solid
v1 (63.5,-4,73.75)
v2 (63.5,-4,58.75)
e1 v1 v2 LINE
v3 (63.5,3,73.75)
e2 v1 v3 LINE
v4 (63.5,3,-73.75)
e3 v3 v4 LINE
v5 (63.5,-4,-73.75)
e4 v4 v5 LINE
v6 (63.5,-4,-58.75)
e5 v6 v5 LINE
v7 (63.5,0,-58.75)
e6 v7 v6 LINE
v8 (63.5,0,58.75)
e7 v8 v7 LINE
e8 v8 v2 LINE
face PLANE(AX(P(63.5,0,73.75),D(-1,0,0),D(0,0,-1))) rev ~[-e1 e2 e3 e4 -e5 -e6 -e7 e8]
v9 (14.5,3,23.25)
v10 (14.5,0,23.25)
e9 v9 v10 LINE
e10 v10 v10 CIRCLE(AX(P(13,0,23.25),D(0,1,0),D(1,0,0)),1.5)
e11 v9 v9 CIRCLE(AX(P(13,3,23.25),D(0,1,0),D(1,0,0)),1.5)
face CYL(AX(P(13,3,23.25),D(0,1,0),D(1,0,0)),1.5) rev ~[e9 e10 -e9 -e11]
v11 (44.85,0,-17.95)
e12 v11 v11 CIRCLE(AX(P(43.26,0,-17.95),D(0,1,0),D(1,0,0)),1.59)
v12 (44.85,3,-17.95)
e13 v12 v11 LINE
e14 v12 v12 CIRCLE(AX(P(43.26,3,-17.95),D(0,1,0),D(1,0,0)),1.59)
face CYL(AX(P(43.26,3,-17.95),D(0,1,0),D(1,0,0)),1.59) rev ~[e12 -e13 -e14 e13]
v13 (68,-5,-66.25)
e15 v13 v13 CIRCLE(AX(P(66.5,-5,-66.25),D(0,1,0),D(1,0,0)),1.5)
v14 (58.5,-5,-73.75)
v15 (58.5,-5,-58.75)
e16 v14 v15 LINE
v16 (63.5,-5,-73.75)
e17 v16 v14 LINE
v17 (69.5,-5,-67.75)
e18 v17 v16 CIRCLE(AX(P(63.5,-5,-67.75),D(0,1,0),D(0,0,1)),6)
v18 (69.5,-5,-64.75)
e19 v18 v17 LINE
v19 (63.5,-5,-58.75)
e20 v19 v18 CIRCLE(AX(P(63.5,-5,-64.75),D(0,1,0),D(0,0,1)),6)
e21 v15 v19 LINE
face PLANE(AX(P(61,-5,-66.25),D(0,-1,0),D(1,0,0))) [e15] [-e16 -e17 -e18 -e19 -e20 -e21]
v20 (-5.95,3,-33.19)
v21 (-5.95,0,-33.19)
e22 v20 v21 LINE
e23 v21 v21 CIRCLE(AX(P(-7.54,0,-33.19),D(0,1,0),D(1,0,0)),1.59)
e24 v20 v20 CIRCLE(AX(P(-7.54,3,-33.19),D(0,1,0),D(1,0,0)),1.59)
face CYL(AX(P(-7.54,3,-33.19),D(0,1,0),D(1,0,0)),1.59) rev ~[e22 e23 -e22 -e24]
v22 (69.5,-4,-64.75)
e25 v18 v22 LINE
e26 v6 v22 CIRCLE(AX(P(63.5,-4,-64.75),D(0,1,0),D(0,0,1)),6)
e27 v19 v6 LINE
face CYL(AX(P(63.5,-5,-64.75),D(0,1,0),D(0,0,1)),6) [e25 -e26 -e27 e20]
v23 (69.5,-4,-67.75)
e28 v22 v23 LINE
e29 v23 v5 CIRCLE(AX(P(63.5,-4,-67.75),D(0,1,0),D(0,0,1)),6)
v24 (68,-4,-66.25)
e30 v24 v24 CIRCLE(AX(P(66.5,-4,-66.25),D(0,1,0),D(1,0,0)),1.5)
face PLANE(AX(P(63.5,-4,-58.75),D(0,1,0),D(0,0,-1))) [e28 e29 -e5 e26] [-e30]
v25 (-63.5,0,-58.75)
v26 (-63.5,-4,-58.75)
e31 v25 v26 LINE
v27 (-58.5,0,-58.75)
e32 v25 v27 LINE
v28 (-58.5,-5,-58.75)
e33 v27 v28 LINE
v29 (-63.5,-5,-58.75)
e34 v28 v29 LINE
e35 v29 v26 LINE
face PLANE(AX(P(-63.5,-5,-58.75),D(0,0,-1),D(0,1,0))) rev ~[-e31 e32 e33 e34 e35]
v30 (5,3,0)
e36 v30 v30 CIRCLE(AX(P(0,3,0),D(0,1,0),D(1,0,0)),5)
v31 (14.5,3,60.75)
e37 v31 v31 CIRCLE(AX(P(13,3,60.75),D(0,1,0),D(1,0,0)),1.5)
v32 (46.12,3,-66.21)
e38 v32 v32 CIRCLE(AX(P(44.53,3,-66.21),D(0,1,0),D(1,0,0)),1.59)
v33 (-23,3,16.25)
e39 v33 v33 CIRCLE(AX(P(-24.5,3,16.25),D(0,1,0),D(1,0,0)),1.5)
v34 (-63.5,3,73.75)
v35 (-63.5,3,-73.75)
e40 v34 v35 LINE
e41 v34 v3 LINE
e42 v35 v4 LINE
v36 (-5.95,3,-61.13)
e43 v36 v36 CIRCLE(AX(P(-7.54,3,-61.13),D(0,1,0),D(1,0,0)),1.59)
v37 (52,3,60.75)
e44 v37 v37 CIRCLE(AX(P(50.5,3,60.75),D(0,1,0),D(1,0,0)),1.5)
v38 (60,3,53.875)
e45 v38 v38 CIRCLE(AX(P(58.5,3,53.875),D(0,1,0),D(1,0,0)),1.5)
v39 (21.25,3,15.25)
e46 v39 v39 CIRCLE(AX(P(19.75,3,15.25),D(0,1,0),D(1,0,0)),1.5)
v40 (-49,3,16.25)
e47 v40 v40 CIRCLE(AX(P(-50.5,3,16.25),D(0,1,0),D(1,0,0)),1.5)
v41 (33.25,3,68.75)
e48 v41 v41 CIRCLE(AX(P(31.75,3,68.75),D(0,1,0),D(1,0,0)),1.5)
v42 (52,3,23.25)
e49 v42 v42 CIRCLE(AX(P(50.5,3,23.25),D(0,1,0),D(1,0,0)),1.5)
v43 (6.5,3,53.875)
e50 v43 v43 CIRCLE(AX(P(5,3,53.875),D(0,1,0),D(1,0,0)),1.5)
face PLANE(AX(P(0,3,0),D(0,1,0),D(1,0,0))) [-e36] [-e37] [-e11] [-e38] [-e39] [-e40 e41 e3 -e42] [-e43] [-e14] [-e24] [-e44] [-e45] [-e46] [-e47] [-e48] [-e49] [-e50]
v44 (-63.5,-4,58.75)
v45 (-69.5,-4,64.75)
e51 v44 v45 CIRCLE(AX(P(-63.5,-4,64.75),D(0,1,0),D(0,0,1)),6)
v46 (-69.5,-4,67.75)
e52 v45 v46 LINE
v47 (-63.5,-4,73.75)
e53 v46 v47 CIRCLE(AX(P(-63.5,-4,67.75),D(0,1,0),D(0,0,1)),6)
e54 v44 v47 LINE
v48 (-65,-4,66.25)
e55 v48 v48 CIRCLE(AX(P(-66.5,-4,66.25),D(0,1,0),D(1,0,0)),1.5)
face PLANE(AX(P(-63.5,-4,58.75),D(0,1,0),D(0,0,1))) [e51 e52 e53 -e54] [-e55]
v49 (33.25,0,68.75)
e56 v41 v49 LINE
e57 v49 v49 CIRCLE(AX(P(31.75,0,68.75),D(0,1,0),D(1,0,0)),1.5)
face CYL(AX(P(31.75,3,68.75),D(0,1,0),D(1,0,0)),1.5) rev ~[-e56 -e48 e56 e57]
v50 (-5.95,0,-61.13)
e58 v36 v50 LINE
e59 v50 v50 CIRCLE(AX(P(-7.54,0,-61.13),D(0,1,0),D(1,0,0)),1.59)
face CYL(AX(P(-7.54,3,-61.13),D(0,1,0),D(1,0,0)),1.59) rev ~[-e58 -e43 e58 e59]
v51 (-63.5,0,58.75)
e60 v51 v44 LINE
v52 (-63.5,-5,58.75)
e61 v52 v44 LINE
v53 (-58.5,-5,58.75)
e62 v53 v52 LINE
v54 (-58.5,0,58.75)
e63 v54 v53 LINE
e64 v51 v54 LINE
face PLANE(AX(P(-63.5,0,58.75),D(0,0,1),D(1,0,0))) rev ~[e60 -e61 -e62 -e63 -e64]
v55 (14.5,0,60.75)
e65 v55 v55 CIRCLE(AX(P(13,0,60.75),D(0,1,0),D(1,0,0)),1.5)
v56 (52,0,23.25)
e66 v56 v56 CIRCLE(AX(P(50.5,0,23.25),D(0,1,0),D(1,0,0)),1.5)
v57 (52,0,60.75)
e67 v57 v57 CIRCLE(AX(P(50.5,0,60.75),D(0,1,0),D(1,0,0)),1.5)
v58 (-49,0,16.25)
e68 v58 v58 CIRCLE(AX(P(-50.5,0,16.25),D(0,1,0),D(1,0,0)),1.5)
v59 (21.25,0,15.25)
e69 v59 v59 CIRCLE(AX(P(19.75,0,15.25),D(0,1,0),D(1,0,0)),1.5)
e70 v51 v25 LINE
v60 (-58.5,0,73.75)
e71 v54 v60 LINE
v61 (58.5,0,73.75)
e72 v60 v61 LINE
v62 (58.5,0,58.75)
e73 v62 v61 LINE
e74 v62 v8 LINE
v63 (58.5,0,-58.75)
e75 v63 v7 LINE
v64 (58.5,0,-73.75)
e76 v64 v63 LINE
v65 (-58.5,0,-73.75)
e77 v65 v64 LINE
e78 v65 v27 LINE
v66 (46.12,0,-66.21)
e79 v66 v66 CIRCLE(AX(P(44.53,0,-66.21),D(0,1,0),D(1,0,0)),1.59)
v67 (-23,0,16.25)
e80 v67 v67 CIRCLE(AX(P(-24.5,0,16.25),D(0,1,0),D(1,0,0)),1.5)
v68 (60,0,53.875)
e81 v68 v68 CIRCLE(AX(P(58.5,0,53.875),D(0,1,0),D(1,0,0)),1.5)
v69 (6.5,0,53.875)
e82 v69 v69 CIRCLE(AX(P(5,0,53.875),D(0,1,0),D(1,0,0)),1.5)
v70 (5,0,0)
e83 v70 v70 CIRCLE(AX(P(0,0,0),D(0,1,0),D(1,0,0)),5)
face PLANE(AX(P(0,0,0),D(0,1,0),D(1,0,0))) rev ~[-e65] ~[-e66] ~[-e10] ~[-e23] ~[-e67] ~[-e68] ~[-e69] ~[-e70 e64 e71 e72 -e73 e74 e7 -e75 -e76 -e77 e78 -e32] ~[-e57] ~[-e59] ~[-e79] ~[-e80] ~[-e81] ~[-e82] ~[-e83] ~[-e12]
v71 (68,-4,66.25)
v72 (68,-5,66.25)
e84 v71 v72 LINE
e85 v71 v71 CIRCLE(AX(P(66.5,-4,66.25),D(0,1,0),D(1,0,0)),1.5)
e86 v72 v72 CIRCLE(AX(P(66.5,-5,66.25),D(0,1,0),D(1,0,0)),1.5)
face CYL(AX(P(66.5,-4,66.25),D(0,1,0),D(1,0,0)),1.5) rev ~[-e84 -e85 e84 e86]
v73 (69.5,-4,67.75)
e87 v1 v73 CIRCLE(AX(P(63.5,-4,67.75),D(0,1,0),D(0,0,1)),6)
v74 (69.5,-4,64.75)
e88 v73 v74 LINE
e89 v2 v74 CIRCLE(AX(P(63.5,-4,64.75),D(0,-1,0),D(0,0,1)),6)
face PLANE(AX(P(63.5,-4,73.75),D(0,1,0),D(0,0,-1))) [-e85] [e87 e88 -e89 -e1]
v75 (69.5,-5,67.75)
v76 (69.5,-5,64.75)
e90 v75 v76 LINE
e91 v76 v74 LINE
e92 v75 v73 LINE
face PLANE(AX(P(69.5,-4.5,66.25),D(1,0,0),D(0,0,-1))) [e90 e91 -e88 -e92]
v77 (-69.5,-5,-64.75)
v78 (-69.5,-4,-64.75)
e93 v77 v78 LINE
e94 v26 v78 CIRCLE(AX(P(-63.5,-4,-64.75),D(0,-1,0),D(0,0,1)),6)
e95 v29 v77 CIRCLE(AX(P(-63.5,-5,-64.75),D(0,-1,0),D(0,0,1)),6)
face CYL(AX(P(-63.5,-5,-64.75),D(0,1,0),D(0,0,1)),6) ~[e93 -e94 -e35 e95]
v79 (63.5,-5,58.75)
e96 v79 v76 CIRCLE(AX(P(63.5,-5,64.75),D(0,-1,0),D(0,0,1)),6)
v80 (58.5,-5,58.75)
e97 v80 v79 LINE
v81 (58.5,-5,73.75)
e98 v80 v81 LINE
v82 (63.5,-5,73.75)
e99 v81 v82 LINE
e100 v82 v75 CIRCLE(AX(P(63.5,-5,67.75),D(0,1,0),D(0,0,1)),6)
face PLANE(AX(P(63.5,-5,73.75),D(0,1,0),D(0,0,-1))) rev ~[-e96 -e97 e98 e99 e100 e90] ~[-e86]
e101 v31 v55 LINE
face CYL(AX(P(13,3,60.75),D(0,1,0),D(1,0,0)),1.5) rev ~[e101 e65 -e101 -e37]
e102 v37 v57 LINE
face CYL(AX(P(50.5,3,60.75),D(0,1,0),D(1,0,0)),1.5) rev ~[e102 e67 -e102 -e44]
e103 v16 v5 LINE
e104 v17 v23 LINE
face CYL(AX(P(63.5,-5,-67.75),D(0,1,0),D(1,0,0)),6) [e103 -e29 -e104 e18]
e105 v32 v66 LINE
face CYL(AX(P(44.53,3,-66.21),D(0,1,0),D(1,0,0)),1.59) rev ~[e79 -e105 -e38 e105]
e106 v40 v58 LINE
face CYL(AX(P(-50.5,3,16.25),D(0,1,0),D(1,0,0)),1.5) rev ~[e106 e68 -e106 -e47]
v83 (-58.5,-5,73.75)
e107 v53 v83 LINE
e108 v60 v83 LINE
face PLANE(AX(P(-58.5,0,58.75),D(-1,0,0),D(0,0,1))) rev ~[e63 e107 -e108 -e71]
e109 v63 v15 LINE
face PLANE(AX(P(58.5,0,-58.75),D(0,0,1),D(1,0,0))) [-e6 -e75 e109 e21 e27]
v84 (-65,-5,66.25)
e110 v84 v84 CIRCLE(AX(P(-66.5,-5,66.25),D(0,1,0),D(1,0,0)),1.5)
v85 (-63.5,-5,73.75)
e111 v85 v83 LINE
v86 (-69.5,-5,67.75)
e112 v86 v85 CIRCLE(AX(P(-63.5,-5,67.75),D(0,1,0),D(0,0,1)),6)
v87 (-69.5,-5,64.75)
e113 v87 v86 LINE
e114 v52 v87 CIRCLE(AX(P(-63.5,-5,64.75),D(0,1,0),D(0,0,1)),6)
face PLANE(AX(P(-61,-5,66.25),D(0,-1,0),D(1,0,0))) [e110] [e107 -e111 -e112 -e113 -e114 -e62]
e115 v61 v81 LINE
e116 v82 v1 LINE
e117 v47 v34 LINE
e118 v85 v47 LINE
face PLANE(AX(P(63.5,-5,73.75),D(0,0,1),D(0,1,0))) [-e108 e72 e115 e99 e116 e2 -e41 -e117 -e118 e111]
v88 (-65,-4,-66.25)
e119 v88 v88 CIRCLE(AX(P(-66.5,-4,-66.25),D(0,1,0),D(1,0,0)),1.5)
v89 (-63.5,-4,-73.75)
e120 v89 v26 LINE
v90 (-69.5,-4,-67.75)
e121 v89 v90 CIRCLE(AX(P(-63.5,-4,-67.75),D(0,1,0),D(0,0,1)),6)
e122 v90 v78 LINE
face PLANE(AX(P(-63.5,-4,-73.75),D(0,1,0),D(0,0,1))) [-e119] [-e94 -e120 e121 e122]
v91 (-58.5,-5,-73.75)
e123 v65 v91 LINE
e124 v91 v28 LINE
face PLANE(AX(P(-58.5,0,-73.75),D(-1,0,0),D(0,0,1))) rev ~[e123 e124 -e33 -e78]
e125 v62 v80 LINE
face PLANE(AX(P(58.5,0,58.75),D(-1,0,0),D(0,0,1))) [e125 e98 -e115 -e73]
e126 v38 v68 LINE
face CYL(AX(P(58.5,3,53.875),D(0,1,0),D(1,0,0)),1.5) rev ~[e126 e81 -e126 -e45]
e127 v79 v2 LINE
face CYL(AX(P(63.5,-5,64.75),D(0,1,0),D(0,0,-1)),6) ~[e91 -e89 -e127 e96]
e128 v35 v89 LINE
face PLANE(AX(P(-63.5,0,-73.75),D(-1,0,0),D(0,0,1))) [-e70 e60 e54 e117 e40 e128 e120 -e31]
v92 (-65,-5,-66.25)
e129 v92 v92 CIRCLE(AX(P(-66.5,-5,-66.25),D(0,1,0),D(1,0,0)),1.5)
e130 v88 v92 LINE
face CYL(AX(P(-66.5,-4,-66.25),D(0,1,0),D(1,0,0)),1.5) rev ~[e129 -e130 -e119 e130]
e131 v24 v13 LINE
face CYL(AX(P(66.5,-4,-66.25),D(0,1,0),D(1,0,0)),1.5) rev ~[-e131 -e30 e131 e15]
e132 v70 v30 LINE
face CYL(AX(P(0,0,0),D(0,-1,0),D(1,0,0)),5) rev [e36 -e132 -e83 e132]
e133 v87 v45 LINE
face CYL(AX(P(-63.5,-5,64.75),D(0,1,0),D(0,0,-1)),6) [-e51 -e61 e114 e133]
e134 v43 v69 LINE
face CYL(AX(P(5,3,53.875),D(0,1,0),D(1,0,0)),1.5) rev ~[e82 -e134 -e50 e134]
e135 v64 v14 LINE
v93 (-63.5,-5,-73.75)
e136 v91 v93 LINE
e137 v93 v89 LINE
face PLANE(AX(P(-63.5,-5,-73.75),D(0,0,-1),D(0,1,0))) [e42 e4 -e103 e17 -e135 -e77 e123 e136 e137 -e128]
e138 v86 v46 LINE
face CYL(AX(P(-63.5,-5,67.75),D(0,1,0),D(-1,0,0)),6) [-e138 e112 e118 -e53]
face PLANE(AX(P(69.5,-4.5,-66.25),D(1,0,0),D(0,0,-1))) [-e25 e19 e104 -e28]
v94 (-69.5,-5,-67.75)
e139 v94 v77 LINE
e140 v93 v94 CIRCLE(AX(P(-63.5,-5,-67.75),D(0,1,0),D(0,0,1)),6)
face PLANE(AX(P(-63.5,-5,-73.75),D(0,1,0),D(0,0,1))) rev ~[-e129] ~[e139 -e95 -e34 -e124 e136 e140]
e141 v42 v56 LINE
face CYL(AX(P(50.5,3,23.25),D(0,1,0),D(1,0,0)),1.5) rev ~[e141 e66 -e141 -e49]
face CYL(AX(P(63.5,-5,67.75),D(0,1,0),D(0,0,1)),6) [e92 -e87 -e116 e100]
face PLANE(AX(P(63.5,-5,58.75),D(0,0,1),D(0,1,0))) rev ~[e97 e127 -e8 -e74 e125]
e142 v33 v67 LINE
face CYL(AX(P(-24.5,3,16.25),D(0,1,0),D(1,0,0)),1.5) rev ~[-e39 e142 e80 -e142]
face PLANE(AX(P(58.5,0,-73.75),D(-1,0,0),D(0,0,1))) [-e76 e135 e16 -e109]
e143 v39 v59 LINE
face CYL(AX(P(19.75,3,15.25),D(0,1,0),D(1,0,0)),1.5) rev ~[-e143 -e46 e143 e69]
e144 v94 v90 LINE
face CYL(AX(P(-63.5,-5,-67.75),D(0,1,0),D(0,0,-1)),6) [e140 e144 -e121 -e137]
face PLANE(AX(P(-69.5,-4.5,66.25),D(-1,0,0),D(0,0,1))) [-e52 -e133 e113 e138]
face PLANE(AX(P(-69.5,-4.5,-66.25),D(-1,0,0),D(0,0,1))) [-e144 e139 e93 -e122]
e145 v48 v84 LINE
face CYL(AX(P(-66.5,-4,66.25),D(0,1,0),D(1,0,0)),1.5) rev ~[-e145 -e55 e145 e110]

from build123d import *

# Parameters (mm, degrees)
BASE_SKETCH_W              = 127
BASE_SKETCH_H              = 147.5
BASE_SKETCH_R              = 5
BASE_DEPTH                 = 3
LEGS_SKETCH_W              = 5
LEGS_SKETCH_H              = 15
LEGS_DEPTH                 = 5
MOUNT_SKETCH_W             = 15
MOUNT_SKETCH_H             = 1
MOUNT_DEPTH                = 6
DONT_CUT_URSELF_R          = 6
MOUNTING_HOLE_SKETCH_R     = 1.5
MOUNTING_HOLE_1_DEPTH      = 2
MOUNTING_HOLE_2_SKETCH_R   = 1.5
MOUNTING_HOLE_2_DEPTH      = 2
MOUNT_2_SKETCH_W           = 15
MOUNT_2_SKETCH_H           = 1
MOUNT_2_DEPTH              = 6
DONT_CUT_URSELF_2_R        = 6
MOUNTING_HOLE_3_SKETCH_R   = 1.5
MOUNTING_HOLE_3_DEPTH      = 2
MOUNTING_HOLE_4_SKETCH_R   = 1.5
MOUNTING_HOLE_4_DEPTH      = 2
HOLES_FOR_PARTS_REACH      = 10
HOLES_FOR_PARTS_SKETCH_R   = 1.5
HOLES_FOR_PARTS_SKETCH_R_2 = 1.59


with BuildPart() as part:
    # Base Sketch → Base (new body)
    with BuildSketch(Plane(origin=(0, 0, 0), x_dir=(1, 0, 0), z_dir=(0, 1, 0))):
        Rectangle(BASE_SKETCH_W, BASE_SKETCH_H)
        Circle(BASE_SKETCH_R, mode=Mode.SUBTRACT)
    extrude(amount=BASE_DEPTH)

    # Legs Sketch → Legs (add)
    with BuildSketch(Plane.XZ):
        with Locations((-61, -66.25)):
            Rectangle(LEGS_SKETCH_W, LEGS_SKETCH_H)
        with Locations((61, -66.25)):
            Rectangle(LEGS_SKETCH_W, LEGS_SKETCH_H)
        with Locations((-61, 66.25)):
            Rectangle(LEGS_SKETCH_W, LEGS_SKETCH_H)
        with Locations((61, 66.25)):
            Rectangle(LEGS_SKETCH_W, LEGS_SKETCH_H)
    extrude(amount=LEGS_DEPTH)

    # Mount Sketch → Mount (add)
    with BuildSketch(Plane(origin=(63.5, 0, 0), x_dir=(0, 0, -1), z_dir=(1, 0, 0))):
        with Locations((-66.25, -4.5)):
            Rectangle(MOUNT_SKETCH_W, MOUNT_SKETCH_H)
        with Locations((66.25, -4.5)):
            Rectangle(MOUNT_SKETCH_W, MOUNT_SKETCH_H)
    extrude(amount=MOUNT_DEPTH)

    # Dont cut urself
    dont_cut_urself_edges = [part.edges().sort_by_distance(p)[0] for p in [
        (69.5, -4.5, 58.75),
        (69.5, -4.5, 73.75),
        (69.5, -4.5, -73.75),
        (69.5, -4.5, -58.75),
    ]]
    fillet(dont_cut_urself_edges, radius=DONT_CUT_URSELF_R)

    # Mounting Hole Sketch → Mounting Hole 1 (cut, through all)
    with BuildSketch(Plane(origin=(0, -4, 0), x_dir=(1, 0, 0), z_dir=(0, 1, 0))):
        with Locations((66.5, -66.25)):
            Circle(MOUNTING_HOLE_SKETCH_R)
    extrude(amount=-MOUNTING_HOLE_1_DEPTH, mode=Mode.SUBTRACT)

    # Mounting Hole 2 Sketch → Mounting Hole 2 (cut, through all)
    with BuildSketch(Plane(origin=(0, -4, 0), x_dir=(1, 0, 0), z_dir=(0, 1, 0))):
        with Locations((66.5, 66.25)):
            Circle(MOUNTING_HOLE_2_SKETCH_R)
    extrude(amount=-MOUNTING_HOLE_2_DEPTH, mode=Mode.SUBTRACT)

    # Mount 2 Sketch → Mount 2 (add)
    with BuildSketch(Plane.ZY.offset(63.5)):
        with Locations((-66.25, -4.5)):
            Rectangle(MOUNT_2_SKETCH_W, MOUNT_2_SKETCH_H)
        with Locations((66.25, -4.5)):
            Rectangle(MOUNT_2_SKETCH_W, MOUNT_2_SKETCH_H)
    extrude(amount=MOUNT_2_DEPTH)

    # Dont cut urself 2
    dont_cut_urself_2_edges = [part.edges().sort_by_distance(p)[0] for p in [
        (-69.5, -4.5, 73.75),
        (-69.5, -4.5, 58.75),
        (-69.5, -4.5, -58.75),
        (-69.5, -4.5, -73.75),
    ]]
    fillet(dont_cut_urself_2_edges, radius=DONT_CUT_URSELF_2_R)

    # Mounting Hole 3 Sketch → Mounting Hole 3 (cut, through all)
    with BuildSketch(Plane(origin=(0, -4, 0), x_dir=(1, 0, 0), z_dir=(0, 1, 0))):
        with Locations((-66.5, -66.25)):
            Circle(MOUNTING_HOLE_3_SKETCH_R)
    extrude(amount=-MOUNTING_HOLE_3_DEPTH, mode=Mode.SUBTRACT)

    # Mounting Hole 4 Sketch → Mounting Hole 4 (cut, through all)
    with BuildSketch(Plane(origin=(0, -4, 0), x_dir=(1, 0, 0), z_dir=(0, 1, 0))):
        with Locations((-66.5, 66.25)):
            Circle(MOUNTING_HOLE_4_SKETCH_R)
    extrude(amount=-MOUNTING_HOLE_4_DEPTH, mode=Mode.SUBTRACT)

    # Holes for Parts Sketch → Holes for Parts (cut, up to next)
    with BuildSketch(Plane(origin=(0, 3, 0), x_dir=(1, 0, 0), z_dir=(0, 1, 0)), mode=Mode.PRIVATE) as holes_for_parts_sk1:
        with Locations((31.75, -68.75)):
            Circle(HOLES_FOR_PARTS_SKETCH_R)
    holes_for_parts_tool1 = extrude(holes_for_parts_sk1.sketch, amount=-HOLES_FOR_PARTS_REACH, mode=Mode.PRIVATE) & part.part
    add(holes_for_parts_tool1.solids().sort_by_distance((31.75, 3, 68.75))[0], mode=Mode.SUBTRACT)
    # Holes for Parts Sketch → Holes for Parts (cut, up to next)
    with BuildSketch(Plane(origin=(0, 3, 0), x_dir=(1, 0, 0), z_dir=(0, 1, 0)), mode=Mode.PRIVATE) as holes_for_parts_sk2:
        with Locations((58.5, -53.875)):
            Circle(HOLES_FOR_PARTS_SKETCH_R)
    holes_for_parts_tool2 = extrude(holes_for_parts_sk2.sketch, amount=-HOLES_FOR_PARTS_REACH, mode=Mode.PRIVATE) & part.part
    add(holes_for_parts_tool2.solids().sort_by_distance((58.5, 3, 53.875))[0], mode=Mode.SUBTRACT)
    # Holes for Parts Sketch → Holes for Parts (cut, up to next)
    with BuildSketch(Plane(origin=(0, 3, 0), x_dir=(1, 0, 0), z_dir=(0, 1, 0)), mode=Mode.PRIVATE) as holes_for_parts_sk3:
        with Locations((5, -53.875)):
            Circle(HOLES_FOR_PARTS_SKETCH_R)
    holes_for_parts_tool3 = extrude(holes_for_parts_sk3.sketch, amount=-HOLES_FOR_PARTS_REACH, mode=Mode.PRIVATE) & part.part
    add(holes_for_parts_tool3.solids().sort_by_distance((5, 3, 53.875))[0], mode=Mode.SUBTRACT)
    # Holes for Parts Sketch → Holes for Parts (cut, up to next)
    with BuildSketch(Plane(origin=(0, 3, 0), x_dir=(1, 0, 0), z_dir=(0, 1, 0)), mode=Mode.PRIVATE) as holes_for_parts_sk4:
        with Locations((19.75, -15.25)):
            Circle(HOLES_FOR_PARTS_SKETCH_R)
    holes_for_parts_tool4 = extrude(holes_for_parts_sk4.sketch, amount=-HOLES_FOR_PARTS_REACH, mode=Mode.PRIVATE) & part.part
    add(holes_for_parts_tool4.solids().sort_by_distance((19.75, 3, 15.25))[0], mode=Mode.SUBTRACT)
    # Holes for Parts Sketch → Holes for Parts (cut, up to next)
    with BuildSketch(Plane(origin=(0, 3, 0), x_dir=(1, 0, 0), z_dir=(0, 1, 0)), mode=Mode.PRIVATE) as holes_for_parts_sk5:
        with Locations((-50.5, -16.25)):
            Circle(HOLES_FOR_PARTS_SKETCH_R)
    holes_for_parts_tool5 = extrude(holes_for_parts_sk5.sketch, amount=-HOLES_FOR_PARTS_REACH, mode=Mode.PRIVATE) & part.part
    add(holes_for_parts_tool5.solids().sort_by_distance((-50.5, 3, 16.25))[0], mode=Mode.SUBTRACT)
    # Holes for Parts Sketch → Holes for Parts (cut, up to next)
    with BuildSketch(Plane(origin=(0, 3, 0), x_dir=(1, 0, 0), z_dir=(0, 1, 0)), mode=Mode.PRIVATE) as holes_for_parts_sk6:
        with Locations((-24.5, -16.25)):
            Circle(HOLES_FOR_PARTS_SKETCH_R)
    holes_for_parts_tool6 = extrude(holes_for_parts_sk6.sketch, amount=-HOLES_FOR_PARTS_REACH, mode=Mode.PRIVATE) & part.part
    add(holes_for_parts_tool6.solids().sort_by_distance((-24.5, 3, 16.25))[0], mode=Mode.SUBTRACT)
    # Holes for Parts Sketch → Holes for Parts (cut, up to next)
    with BuildSketch(Plane(origin=(0, 3, 0), x_dir=(1, 0, 0), z_dir=(0, 1, 0)), mode=Mode.PRIVATE) as holes_for_parts_sk7:
        with Locations((-7.54, 33.19)):
            Circle(HOLES_FOR_PARTS_SKETCH_R_2)
    holes_for_parts_tool7 = extrude(holes_for_parts_sk7.sketch, amount=-HOLES_FOR_PARTS_REACH, mode=Mode.PRIVATE) & part.part
    add(holes_for_parts_tool7.solids().sort_by_distance((-7.54, 3, -33.19))[0], mode=Mode.SUBTRACT)
    # Holes for Parts Sketch → Holes for Parts (cut, up to next)
    with BuildSketch(Plane(origin=(0, 3, 0), x_dir=(1, 0, 0), z_dir=(0, 1, 0)), mode=Mode.PRIVATE) as holes_for_parts_sk8:
        with Locations((-7.54, 61.13)):
            Circle(HOLES_FOR_PARTS_SKETCH_R_2)
    holes_for_parts_tool8 = extrude(holes_for_parts_sk8.sketch, amount=-HOLES_FOR_PARTS_REACH, mode=Mode.PRIVATE) & part.part
    add(holes_for_parts_tool8.solids().sort_by_distance((-7.54, 3, -61.13))[0], mode=Mode.SUBTRACT)
    # Holes for Parts Sketch → Holes for Parts (cut, up to next)
    with BuildSketch(Plane(origin=(0, 3, 0), x_dir=(1, 0, 0), z_dir=(0, 1, 0)), mode=Mode.PRIVATE) as holes_for_parts_sk9:
        with Locations((44.53, 66.21)):
            Circle(HOLES_FOR_PARTS_SKETCH_R_2)
    holes_for_parts_tool9 = extrude(holes_for_parts_sk9.sketch, amount=-HOLES_FOR_PARTS_REACH, mode=Mode.PRIVATE) & part.part
    add(holes_for_parts_tool9.solids().sort_by_distance((44.53, 3, -66.21))[0], mode=Mode.SUBTRACT)
    # Holes for Parts Sketch → Holes for Parts (cut, up to next)
    with BuildSketch(Plane(origin=(0, 3, 0), x_dir=(1, 0, 0), z_dir=(0, 1, 0)), mode=Mode.PRIVATE) as holes_for_parts_sk10:
        with Locations((43.26, 17.95)):
            Circle(HOLES_FOR_PARTS_SKETCH_R_2)
    holes_for_parts_tool10 = extrude(holes_for_parts_sk10.sketch, amount=-HOLES_FOR_PARTS_REACH, mode=Mode.PRIVATE) & part.part
    add(holes_for_parts_tool10.solids().sort_by_distance((43.26, 3, -17.95))[0], mode=Mode.SUBTRACT)
    # Holes for Parts Sketch → Holes for Parts (cut, up to next)
    with BuildSketch(Plane(origin=(0, 3, 0), x_dir=(1, 0, 0), z_dir=(0, 1, 0)), mode=Mode.PRIVATE) as holes_for_parts_sk11:
        with Locations((50.5, -60.75)):
            Circle(HOLES_FOR_PARTS_SKETCH_R)
    holes_for_parts_tool11 = extrude(holes_for_parts_sk11.sketch, amount=-HOLES_FOR_PARTS_REACH, mode=Mode.PRIVATE) & part.part
    add(holes_for_parts_tool11.solids().sort_by_distance((50.5, 3, 60.75))[0], mode=Mode.SUBTRACT)
    # Holes for Parts Sketch → Holes for Parts (cut, up to next)
    with BuildSketch(Plane(origin=(0, 3, 0), x_dir=(1, 0, 0), z_dir=(0, 1, 0)), mode=Mode.PRIVATE) as holes_for_parts_sk12:
        with Locations((13, -60.75)):
            Circle(HOLES_FOR_PARTS_SKETCH_R)
    holes_for_parts_tool12 = extrude(holes_for_parts_sk12.sketch, amount=-HOLES_FOR_PARTS_REACH, mode=Mode.PRIVATE) & part.part
    add(holes_for_parts_tool12.solids().sort_by_distance((13, 3, 60.75))[0], mode=Mode.SUBTRACT)
    # Holes for Parts Sketch → Holes for Parts (cut, up to next)
    with BuildSketch(Plane(origin=(0, 3, 0), x_dir=(1, 0, 0), z_dir=(0, 1, 0)), mode=Mode.PRIVATE) as holes_for_parts_sk13:
        with Locations((13, -23.25)):
            Circle(HOLES_FOR_PARTS_SKETCH_R)
    holes_for_parts_tool13 = extrude(holes_for_parts_sk13.sketch, amount=-HOLES_FOR_PARTS_REACH, mode=Mode.PRIVATE) & part.part
    add(holes_for_parts_tool13.solids().sort_by_distance((13, 3, 23.25))[0], mode=Mode.SUBTRACT)
    # Holes for Parts Sketch → Holes for Parts (cut, up to next)
    with BuildSketch(Plane(origin=(0, 3, 0), x_dir=(1, 0, 0), z_dir=(0, 1, 0)), mode=Mode.PRIVATE) as holes_for_parts_sk14:
        with Locations((50.5, -23.25)):
            Circle(HOLES_FOR_PARTS_SKETCH_R)
    holes_for_parts_tool14 = extrude(holes_for_parts_sk14.sketch, amount=-HOLES_FOR_PARTS_REACH, mode=Mode.PRIVATE) & part.part
    add(holes_for_parts_tool14.solids().sort_by_distance((50.5, 3, 23.25))[0], mode=Mode.SUBTRACT)


solid = part.part
